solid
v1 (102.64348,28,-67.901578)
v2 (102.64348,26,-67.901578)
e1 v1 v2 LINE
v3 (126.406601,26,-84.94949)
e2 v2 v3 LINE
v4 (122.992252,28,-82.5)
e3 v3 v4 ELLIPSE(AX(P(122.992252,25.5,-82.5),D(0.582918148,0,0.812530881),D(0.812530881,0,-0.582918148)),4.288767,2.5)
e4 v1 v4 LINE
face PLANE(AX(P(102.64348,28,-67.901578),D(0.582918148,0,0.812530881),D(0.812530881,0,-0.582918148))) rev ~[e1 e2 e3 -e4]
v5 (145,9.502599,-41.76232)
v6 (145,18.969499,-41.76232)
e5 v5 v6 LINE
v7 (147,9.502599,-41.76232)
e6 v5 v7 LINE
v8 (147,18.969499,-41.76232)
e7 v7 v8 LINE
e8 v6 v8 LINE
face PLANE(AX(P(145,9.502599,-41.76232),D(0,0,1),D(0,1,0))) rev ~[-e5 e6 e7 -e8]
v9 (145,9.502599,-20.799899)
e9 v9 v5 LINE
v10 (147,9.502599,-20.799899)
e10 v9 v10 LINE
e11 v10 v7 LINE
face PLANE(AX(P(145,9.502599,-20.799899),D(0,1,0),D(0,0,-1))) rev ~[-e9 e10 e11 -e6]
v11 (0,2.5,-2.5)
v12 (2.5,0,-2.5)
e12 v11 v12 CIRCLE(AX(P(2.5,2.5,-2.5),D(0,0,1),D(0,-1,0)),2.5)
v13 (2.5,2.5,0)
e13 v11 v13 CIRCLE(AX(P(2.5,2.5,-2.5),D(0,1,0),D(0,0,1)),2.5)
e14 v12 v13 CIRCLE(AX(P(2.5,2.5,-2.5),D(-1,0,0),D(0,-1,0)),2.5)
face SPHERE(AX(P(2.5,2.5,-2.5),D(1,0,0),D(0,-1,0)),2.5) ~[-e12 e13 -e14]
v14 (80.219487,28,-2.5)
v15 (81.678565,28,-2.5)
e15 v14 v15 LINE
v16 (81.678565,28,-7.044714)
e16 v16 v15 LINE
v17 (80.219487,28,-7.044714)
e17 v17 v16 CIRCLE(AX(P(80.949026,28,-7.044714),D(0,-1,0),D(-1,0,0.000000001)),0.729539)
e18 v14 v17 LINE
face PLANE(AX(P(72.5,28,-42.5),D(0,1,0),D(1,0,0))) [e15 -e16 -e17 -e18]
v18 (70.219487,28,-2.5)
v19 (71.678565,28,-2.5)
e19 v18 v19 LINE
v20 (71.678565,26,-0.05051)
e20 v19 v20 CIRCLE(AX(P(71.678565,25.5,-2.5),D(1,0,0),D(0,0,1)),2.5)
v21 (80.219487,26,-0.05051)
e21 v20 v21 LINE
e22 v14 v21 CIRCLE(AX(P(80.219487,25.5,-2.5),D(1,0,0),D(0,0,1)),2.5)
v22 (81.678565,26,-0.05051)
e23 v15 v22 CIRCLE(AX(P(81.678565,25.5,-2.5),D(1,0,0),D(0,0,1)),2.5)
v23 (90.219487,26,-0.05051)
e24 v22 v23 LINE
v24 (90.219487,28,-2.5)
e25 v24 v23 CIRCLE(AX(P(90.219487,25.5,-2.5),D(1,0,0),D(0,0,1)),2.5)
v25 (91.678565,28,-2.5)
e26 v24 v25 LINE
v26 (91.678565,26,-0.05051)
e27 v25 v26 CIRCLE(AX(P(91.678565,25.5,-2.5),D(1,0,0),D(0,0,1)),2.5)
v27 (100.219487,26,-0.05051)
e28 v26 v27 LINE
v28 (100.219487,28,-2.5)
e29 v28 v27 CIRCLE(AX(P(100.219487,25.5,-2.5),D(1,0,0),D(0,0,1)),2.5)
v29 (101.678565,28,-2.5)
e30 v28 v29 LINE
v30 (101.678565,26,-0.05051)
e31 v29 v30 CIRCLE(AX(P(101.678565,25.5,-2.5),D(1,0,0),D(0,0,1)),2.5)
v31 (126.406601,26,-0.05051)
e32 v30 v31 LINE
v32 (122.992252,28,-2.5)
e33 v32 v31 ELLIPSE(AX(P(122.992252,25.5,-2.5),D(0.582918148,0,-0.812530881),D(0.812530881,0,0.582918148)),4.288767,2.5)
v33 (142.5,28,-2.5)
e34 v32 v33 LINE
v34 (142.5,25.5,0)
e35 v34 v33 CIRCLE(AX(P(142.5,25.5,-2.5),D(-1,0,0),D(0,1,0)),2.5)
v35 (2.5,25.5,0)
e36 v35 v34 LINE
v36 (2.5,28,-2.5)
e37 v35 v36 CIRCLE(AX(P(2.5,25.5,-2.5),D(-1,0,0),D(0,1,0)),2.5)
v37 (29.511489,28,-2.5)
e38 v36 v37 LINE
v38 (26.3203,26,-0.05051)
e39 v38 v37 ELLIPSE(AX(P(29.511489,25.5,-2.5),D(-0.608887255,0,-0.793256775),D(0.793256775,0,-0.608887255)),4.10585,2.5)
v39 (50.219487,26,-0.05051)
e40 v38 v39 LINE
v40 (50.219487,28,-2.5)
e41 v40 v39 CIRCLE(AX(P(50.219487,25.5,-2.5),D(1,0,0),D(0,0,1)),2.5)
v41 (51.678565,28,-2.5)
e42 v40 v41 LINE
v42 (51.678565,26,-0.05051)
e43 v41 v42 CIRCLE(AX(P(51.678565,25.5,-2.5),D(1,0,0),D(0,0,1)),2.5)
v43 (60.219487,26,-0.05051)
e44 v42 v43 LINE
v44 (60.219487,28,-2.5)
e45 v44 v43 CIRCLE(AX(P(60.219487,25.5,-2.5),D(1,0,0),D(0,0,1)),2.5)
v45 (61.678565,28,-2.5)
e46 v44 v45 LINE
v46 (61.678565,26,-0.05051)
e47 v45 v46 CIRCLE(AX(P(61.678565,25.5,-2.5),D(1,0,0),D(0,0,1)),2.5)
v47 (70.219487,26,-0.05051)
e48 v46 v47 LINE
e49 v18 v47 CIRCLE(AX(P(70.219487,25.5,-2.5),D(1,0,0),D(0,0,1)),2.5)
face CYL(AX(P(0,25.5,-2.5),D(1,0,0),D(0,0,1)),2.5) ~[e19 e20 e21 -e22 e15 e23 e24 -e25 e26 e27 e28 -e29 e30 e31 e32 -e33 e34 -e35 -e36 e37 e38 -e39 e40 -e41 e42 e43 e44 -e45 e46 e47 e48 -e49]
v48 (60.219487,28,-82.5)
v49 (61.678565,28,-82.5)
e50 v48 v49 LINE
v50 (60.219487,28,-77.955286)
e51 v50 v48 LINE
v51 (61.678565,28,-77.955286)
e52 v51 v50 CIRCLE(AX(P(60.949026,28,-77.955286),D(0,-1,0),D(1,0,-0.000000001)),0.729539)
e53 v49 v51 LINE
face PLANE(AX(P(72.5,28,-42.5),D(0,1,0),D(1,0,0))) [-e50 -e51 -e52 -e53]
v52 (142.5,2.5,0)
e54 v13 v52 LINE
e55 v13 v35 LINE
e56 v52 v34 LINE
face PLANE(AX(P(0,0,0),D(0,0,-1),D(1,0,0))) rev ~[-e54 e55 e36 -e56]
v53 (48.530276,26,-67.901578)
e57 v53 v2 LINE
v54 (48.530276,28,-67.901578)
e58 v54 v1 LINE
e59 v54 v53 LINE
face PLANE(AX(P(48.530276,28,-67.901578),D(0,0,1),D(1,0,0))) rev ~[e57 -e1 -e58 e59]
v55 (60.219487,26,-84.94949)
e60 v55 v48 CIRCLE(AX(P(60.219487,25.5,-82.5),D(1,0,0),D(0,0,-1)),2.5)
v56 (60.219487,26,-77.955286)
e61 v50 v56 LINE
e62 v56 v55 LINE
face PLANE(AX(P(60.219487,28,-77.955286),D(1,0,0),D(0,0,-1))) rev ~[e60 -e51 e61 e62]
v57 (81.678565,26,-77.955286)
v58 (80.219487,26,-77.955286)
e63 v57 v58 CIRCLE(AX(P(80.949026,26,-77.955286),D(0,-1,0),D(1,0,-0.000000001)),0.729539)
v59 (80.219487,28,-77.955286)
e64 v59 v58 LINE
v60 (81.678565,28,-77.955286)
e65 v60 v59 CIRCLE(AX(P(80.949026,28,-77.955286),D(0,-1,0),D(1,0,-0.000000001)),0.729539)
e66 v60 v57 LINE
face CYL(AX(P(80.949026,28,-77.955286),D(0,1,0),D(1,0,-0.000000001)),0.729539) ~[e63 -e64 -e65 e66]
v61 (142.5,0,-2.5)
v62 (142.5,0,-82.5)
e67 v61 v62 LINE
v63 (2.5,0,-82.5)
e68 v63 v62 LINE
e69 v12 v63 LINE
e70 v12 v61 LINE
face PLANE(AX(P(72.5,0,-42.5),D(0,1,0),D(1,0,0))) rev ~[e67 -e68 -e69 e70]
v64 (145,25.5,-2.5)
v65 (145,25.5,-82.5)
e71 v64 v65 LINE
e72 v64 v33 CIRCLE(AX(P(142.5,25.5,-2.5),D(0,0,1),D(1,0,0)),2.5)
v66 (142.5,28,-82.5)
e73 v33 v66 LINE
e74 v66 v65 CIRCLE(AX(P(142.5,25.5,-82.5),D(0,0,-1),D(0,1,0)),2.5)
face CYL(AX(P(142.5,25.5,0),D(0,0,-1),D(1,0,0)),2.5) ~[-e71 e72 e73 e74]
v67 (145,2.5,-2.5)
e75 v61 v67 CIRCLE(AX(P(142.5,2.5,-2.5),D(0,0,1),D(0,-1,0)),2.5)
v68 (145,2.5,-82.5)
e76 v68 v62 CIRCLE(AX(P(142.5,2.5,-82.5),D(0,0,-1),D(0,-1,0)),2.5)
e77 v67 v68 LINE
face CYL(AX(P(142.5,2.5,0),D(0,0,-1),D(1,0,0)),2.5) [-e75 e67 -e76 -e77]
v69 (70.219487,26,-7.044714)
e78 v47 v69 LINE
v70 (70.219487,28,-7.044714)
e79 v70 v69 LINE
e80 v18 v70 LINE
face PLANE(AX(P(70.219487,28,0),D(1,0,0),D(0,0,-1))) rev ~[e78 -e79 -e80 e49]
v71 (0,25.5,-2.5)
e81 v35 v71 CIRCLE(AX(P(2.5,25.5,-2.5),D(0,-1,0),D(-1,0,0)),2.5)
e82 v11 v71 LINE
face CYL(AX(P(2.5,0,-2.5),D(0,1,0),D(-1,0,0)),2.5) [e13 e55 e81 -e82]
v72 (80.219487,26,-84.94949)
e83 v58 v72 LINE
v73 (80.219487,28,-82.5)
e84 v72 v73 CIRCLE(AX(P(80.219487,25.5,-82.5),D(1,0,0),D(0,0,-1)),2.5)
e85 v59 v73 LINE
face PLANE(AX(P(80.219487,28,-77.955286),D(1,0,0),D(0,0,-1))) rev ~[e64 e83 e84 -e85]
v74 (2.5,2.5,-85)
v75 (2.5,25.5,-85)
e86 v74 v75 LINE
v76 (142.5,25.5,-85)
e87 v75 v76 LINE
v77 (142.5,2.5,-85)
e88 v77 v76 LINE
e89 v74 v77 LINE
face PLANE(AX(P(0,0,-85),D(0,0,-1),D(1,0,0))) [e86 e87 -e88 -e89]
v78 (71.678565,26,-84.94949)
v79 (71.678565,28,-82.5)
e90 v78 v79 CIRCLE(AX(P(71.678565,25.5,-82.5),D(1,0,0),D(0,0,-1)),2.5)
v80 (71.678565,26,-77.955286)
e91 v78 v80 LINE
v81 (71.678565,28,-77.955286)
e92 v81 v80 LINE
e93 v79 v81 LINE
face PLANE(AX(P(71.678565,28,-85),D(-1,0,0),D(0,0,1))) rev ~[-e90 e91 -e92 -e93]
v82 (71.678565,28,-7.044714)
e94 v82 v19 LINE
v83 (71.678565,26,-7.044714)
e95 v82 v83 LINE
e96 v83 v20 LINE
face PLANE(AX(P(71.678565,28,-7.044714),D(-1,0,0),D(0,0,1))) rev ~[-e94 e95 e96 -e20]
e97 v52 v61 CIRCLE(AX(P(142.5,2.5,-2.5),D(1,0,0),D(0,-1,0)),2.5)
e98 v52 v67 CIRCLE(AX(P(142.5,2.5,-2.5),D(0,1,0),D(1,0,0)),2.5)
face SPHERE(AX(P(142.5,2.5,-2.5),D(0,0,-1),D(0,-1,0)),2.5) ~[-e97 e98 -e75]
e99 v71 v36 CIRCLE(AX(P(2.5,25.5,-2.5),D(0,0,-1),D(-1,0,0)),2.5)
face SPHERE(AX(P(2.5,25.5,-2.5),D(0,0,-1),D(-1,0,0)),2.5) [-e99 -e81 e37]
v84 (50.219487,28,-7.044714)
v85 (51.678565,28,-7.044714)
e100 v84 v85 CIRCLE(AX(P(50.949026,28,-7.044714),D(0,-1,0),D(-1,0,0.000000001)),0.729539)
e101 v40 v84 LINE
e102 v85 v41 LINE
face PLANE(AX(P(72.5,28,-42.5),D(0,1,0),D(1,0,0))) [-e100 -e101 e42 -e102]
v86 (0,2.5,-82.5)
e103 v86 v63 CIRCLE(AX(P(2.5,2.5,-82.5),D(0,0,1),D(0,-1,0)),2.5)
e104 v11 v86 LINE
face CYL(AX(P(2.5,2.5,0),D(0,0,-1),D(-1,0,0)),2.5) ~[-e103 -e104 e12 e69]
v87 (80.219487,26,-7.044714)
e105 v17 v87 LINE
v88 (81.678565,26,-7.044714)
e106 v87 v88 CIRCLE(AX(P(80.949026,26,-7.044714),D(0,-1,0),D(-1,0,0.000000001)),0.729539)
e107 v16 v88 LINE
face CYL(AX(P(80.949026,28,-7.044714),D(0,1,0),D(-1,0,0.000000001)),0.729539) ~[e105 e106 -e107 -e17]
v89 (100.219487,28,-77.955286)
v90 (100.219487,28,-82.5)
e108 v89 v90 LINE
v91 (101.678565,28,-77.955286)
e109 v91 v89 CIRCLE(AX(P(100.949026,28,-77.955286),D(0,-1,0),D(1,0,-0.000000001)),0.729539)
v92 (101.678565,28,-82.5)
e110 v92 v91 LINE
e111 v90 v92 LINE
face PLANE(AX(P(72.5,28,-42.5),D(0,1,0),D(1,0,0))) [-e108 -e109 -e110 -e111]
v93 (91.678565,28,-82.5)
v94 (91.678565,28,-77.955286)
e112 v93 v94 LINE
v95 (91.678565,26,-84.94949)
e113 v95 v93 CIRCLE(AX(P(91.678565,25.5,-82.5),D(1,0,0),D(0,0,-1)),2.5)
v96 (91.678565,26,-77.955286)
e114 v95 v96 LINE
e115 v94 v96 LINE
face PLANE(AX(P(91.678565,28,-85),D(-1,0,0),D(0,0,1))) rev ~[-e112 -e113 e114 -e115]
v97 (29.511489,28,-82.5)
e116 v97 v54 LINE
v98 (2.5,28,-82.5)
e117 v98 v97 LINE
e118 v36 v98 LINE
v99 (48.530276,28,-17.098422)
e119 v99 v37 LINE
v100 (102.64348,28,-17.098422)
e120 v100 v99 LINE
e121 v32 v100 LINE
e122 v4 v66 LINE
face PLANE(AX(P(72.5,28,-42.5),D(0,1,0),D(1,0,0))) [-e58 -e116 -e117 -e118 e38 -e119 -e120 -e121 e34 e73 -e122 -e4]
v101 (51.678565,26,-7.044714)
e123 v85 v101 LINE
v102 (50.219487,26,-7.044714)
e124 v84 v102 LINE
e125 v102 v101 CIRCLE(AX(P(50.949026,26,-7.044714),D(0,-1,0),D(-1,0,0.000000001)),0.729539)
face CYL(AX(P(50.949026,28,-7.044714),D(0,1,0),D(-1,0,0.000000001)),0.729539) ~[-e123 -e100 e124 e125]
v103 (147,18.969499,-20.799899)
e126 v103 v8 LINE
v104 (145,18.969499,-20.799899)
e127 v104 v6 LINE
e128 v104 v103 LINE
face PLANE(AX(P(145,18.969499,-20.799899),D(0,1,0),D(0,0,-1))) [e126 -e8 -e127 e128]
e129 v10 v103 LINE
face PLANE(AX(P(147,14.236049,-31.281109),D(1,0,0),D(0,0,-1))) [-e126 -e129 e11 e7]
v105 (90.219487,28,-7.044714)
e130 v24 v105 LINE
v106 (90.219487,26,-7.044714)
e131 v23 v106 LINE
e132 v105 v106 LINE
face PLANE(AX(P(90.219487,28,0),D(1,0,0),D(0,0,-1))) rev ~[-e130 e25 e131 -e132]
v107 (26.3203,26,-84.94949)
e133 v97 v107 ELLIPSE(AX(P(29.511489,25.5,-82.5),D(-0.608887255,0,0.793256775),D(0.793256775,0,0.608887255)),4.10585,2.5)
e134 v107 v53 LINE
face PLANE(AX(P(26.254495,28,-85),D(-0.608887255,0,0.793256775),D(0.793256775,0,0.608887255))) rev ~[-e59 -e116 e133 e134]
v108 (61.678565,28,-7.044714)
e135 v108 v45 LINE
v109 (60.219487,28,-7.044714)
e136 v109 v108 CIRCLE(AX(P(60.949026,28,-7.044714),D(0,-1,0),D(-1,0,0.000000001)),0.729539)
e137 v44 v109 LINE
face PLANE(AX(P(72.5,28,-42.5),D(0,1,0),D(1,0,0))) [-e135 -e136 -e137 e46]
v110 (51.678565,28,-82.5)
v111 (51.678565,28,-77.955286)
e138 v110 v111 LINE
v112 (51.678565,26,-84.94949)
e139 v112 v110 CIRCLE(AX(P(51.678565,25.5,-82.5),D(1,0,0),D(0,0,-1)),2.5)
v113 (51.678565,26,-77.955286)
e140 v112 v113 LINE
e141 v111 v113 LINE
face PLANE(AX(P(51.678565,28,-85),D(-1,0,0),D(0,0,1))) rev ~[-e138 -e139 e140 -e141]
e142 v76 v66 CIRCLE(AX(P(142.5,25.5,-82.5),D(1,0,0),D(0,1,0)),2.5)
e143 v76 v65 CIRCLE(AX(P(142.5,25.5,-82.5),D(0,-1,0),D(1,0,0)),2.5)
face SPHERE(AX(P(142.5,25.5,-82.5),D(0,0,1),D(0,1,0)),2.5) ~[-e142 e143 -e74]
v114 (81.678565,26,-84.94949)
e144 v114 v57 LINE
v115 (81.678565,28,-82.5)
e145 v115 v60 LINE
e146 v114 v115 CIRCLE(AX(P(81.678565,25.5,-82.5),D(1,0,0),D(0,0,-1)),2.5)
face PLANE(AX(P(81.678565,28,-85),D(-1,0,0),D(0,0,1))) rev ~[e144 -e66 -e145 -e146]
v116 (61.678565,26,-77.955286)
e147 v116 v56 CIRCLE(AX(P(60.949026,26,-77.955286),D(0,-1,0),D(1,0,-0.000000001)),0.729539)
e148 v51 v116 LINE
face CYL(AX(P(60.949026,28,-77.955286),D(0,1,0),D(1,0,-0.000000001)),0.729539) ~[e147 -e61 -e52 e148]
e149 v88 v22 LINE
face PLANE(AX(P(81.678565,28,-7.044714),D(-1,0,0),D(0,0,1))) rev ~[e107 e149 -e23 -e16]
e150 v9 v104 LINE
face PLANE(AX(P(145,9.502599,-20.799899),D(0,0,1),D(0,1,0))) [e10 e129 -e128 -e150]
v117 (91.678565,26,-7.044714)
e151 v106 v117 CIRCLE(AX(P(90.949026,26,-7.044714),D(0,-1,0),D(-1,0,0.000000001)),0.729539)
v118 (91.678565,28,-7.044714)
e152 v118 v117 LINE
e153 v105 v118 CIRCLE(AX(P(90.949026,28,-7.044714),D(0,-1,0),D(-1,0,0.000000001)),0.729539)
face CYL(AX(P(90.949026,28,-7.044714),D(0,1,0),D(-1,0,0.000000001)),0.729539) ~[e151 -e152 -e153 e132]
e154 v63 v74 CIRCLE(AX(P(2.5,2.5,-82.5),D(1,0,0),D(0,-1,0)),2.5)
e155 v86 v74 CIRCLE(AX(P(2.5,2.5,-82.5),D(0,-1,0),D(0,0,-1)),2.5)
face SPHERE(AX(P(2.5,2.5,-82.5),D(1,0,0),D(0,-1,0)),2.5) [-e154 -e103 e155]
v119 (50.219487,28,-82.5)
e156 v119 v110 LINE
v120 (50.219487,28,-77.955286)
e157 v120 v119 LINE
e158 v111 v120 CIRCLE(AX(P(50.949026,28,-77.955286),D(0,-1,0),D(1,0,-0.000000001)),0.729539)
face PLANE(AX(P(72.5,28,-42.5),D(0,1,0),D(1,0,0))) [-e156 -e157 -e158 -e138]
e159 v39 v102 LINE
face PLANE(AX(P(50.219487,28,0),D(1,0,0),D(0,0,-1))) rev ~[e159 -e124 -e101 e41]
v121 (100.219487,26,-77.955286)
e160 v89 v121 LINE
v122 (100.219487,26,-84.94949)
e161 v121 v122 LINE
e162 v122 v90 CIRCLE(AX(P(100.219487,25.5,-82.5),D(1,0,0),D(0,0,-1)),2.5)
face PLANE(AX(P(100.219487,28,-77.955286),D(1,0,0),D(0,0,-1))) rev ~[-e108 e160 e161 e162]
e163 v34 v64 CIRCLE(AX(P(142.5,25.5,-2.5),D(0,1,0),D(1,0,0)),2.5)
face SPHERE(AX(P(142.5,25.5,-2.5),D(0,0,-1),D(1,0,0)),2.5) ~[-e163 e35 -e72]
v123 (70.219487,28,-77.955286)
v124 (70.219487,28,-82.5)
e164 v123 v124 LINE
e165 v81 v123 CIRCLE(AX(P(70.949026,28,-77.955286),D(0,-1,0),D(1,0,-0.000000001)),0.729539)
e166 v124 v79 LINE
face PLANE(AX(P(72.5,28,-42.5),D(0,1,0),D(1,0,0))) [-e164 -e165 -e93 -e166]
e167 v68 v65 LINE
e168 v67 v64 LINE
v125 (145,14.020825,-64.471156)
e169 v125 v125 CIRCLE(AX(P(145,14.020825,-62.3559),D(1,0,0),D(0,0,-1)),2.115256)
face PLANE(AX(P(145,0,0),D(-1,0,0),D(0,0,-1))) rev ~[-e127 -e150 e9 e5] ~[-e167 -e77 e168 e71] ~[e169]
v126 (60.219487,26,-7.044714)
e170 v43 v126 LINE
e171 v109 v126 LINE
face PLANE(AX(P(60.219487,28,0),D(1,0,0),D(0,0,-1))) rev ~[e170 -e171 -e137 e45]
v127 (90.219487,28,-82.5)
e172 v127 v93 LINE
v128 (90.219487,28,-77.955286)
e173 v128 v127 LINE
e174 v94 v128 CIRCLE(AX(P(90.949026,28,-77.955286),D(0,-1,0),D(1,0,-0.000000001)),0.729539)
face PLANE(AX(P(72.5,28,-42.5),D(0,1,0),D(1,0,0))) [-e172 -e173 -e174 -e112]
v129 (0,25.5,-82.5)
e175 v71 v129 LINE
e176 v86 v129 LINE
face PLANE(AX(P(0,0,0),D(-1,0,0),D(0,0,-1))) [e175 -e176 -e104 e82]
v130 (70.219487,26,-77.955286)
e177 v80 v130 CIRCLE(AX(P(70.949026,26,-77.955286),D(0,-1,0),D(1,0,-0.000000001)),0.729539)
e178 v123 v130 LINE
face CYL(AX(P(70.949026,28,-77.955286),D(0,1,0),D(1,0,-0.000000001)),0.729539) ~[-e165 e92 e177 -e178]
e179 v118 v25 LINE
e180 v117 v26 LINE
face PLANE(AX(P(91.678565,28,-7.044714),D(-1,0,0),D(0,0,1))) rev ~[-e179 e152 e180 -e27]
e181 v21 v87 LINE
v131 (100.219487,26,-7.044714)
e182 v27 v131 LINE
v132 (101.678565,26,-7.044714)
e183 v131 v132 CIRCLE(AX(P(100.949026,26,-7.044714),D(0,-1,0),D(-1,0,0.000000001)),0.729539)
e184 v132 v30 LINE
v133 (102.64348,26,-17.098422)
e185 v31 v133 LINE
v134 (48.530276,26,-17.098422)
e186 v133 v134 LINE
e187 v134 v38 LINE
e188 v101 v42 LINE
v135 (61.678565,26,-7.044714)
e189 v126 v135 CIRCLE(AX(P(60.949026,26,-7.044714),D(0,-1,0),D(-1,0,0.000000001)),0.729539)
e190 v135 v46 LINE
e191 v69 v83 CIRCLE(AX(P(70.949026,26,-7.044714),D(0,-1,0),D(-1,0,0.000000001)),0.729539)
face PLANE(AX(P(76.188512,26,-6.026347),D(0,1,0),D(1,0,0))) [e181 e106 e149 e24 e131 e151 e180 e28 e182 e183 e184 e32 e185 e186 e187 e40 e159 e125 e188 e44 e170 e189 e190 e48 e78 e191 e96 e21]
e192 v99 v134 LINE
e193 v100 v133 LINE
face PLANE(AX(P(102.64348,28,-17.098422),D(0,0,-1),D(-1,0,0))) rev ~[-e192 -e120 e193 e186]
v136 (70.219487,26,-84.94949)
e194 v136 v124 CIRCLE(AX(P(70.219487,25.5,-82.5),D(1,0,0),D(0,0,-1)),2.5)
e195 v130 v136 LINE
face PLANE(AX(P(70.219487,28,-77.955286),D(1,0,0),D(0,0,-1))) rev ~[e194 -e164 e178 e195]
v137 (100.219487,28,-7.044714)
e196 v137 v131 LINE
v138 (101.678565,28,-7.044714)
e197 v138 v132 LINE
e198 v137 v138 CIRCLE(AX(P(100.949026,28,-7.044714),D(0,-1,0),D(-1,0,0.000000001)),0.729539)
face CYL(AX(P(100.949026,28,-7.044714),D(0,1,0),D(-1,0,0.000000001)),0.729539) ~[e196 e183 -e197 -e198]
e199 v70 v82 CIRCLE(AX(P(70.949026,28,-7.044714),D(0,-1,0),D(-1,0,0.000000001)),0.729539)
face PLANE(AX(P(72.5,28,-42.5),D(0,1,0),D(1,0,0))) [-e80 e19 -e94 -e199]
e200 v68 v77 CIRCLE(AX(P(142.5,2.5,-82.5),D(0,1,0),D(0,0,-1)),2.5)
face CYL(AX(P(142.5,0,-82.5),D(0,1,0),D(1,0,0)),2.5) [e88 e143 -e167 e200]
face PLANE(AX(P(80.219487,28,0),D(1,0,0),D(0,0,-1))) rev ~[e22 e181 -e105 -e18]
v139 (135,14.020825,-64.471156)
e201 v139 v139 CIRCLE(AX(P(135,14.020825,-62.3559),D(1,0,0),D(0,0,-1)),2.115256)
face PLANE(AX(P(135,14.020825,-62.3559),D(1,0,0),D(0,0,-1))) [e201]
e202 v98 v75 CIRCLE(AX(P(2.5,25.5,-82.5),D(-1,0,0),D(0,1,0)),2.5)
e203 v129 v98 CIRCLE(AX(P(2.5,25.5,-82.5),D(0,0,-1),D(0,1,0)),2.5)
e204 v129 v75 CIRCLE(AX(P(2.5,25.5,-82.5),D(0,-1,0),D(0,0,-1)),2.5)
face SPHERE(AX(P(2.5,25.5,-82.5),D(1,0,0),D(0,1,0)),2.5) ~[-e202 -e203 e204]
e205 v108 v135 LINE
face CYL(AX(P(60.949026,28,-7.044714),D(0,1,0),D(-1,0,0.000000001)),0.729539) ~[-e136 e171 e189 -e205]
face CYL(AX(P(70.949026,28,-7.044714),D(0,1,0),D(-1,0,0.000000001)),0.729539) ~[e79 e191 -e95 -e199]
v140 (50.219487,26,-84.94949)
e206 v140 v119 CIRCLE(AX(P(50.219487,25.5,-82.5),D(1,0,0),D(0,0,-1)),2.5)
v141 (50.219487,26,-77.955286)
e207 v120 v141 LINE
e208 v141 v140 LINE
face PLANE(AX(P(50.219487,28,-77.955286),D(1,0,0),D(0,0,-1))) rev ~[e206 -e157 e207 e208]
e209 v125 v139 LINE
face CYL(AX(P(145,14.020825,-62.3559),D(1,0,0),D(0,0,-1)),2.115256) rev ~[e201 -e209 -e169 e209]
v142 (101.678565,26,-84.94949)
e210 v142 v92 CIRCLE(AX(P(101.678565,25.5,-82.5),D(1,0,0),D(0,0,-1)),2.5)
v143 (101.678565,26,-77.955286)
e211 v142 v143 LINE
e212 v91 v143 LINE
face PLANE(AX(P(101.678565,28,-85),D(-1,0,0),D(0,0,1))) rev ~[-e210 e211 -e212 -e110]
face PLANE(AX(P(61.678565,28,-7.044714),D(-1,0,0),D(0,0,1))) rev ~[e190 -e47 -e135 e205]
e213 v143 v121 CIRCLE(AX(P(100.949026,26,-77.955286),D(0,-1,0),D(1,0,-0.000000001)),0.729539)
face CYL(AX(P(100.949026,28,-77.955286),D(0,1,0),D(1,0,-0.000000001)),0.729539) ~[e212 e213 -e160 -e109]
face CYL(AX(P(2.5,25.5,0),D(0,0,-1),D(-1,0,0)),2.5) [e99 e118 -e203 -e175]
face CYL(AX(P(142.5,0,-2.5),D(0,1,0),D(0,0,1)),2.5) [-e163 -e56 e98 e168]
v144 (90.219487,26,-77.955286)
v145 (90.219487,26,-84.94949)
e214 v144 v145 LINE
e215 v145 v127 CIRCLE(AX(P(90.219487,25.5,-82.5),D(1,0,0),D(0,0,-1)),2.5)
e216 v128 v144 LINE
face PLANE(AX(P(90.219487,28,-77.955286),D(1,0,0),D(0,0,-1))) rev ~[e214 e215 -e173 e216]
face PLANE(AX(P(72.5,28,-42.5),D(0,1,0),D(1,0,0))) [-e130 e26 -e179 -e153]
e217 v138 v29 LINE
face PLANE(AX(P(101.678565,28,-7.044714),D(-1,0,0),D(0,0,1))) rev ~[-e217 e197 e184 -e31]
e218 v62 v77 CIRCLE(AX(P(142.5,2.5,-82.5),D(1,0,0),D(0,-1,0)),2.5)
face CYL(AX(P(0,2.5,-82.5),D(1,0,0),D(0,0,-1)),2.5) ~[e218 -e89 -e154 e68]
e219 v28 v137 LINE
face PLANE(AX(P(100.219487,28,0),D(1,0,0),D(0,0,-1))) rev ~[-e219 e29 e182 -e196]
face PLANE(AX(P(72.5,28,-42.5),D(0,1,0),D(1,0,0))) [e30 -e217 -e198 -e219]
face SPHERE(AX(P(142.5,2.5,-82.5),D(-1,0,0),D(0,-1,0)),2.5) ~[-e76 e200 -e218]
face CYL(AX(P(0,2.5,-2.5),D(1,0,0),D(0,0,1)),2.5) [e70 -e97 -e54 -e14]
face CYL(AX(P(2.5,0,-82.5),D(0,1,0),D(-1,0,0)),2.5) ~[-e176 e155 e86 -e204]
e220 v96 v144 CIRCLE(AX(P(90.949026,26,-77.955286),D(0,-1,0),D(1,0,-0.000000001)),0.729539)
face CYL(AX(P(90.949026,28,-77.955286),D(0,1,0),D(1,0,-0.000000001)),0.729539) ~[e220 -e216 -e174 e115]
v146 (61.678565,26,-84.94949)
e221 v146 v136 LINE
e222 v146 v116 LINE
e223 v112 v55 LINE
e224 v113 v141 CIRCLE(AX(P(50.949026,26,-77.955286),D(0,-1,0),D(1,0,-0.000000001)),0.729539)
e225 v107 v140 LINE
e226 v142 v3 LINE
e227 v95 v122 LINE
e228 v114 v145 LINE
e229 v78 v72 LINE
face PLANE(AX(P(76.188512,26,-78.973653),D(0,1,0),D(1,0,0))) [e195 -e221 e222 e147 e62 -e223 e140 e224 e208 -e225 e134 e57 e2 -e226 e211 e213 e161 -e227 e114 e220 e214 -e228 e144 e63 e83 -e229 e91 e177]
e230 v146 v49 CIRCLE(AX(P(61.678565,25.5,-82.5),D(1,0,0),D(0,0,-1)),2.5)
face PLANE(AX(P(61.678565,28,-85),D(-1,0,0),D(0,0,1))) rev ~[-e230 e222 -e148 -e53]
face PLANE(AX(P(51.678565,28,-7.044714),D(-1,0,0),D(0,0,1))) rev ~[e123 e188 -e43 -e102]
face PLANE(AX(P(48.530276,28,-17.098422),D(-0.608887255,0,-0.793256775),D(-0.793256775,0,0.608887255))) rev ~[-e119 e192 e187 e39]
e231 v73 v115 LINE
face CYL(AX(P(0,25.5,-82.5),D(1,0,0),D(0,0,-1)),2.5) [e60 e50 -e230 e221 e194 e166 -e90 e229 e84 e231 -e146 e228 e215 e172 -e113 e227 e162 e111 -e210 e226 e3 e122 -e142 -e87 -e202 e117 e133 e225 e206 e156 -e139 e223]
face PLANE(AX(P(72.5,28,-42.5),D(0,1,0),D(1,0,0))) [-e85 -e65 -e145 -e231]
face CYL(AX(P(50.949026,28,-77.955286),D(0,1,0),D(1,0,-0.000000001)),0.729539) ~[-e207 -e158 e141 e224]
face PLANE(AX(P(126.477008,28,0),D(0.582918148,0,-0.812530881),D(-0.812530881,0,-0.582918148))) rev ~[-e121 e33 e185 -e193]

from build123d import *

# Parameters (mm, degrees)
SKETCH2_W           = 145
SKETCH2_H           = 85
BOSS_EXTRUDE1_DEPTH = 28
FILLET1_R           = 2.5
SKETCH3_R           = 2.115255866
CUT_EXTRUDE1_DEPTH  = 10
SKETCH4_W           = 20.962420857
SKETCH4_H           = 9.466899742
BOSS_EXTRUDE2_DEPTH = 2
CUT_EXTRUDE2_DEPTH  = 2


with BuildPart() as part:
    # Sketch2 → Boss-Extrude1 (new body)
    with BuildSketch(Plane(origin=(0, 0, 0), x_dir=(1, 0, 0), z_dir=(0, 1, 0))):
        with Locations((72.5, 42.5)):
            Rectangle(SKETCH2_W, SKETCH2_H)
    extrude(amount=BOSS_EXTRUDE1_DEPTH)

    # Fillet1
    fillet1_edges = [part.edges().sort_by_distance(p)[0] for p in [
        (145, 28, -42.5),
        (72.5, 28, -85),
        (0, 28, -42.5),
        (72.5, 0, -85),
        (145, 0, -42.5),
        (72.5, 0, 0),
        (0, 0, -42.5),
        (0, 14, -85),
        (145, 14, -85),
        (145, 14, 0),
        (0, 14, 0),
        (72.5, 28, 0),
    ]]
    fillet(fillet1_edges, radius=FILLET1_R)

    # Sketch3 → Cut-Extrude1 (cut)
    with BuildSketch(Plane(origin=(145, 0, 0), x_dir=(0, 0, -1), z_dir=(1, 0, 0))):
        with Locations((62.355900108, 14.02082484)):
            Circle(SKETCH3_R)
    extrude(amount=-CUT_EXTRUDE1_DEPTH, mode=Mode.SUBTRACT)

    # Sketch4 → Boss-Extrude2 (add)
    with BuildSketch(Plane(origin=(145, 0, 0), x_dir=(0, 0, -1), z_dir=(1, 0, 0))):
        with Locations((31.281109073, 14.236048875)):
            Rectangle(SKETCH4_W, SKETCH4_H)
    extrude(amount=BOSS_EXTRUDE2_DEPTH)

    # Sketch5 → Cut-Extrude2 (cut)
    with BuildSketch(Plane(origin=(0, 28, 0), x_dir=(1, 0, 0), z_dir=(0, 1, 0))):
        with BuildLine():
            Line((26.254495466, 85), (48.530276138, 67.90157817))
            Line((48.530276138, 67.90157817), (102.643480063, 67.90157817))
            Line((102.643480063, 67.90157817), (126.477007635, 85))
            Line((126.477007635, 85), (101.67856471, 85))
            Line((101.67856471, 85), (101.67856471, 77.955286257))
            ThreePointArc((101.67856471, 77.955286257), (100.949025715, 77.225747261), (100.21948672, 77.955286257))
            Line((100.21948672, 77.955286257), (100.21948672, 85))
            Line((100.21948672, 85), (91.67856471, 85))
            Line((91.67856471, 85), (91.67856471, 77.955286257))
            ThreePointArc((91.67856471, 77.955286257), (90.949025715, 77.225747261), (90.21948672, 77.955286257))
            Line((90.21948672, 77.955286257), (90.21948672, 85))
            Line((90.21948672, 85), (81.67856471, 85))
            Line((81.67856471, 85), (81.67856471, 77.955286257))
            ThreePointArc((81.67856471, 77.955286257), (80.949025715, 77.225747261), (80.21948672, 77.955286257))
            Line((80.21948672, 77.955286257), (80.21948672, 85))
            Line((80.21948672, 85), (71.67856471, 85))
            Line((71.67856471, 85), (71.67856471, 77.955286257))
            ThreePointArc((71.67856471, 77.955286257), (70.949025715, 77.225747261), (70.21948672, 77.955286257))
            Line((70.21948672, 77.955286257), (70.21948672, 85))
            Line((70.21948672, 85), (61.67856471, 85))
            Line((61.67856471, 85), (61.67856471, 77.955286257))
            ThreePointArc((61.67856471, 77.955286257), (60.949025715, 77.225747261), (60.21948672, 77.955286257))
            Line((60.21948672, 77.955286257), (60.21948672, 85))
            Line((60.21948672, 85), (51.67856471, 85))
            Line((51.67856471, 85), (51.67856471, 77.955286257))
            ThreePointArc((51.67856471, 77.955286257), (50.949025715, 77.225747261), (50.21948672, 77.955286257))
            Line((50.21948672, 77.955286257), (50.21948672, 85))
            Line((50.21948672, 85), (26.254495466, 85))
        make_face()
        with BuildLine():
            Line((101.67856471, 0), (126.477007635, 0))
            Line((126.477007635, 0), (102.643480063, 17.09842183))
            Line((102.643480063, 17.09842183), (48.530276138, 17.09842183))
            Line((48.530276138, 17.09842183), (26.254495466, 0))
            Line((26.254495466, 0), (50.21948672, 0))
            Line((50.21948672, 0), (50.21948672, 7.044713743))
            ThreePointArc((50.21948672, 7.044713743), (50.949025715, 7.774252739), (51.67856471, 7.044713743))
            Line((51.67856471, 7.044713743), (51.67856471, 0))
            Line((51.67856471, 0), (60.21948672, 0))
            Line((60.21948672, 0), (60.21948672, 7.044713743))
            ThreePointArc((60.21948672, 7.044713743), (60.949025715, 7.774252739), (61.67856471, 7.044713743))
            Line((61.67856471, 7.044713743), (61.67856471, 0))
            Line((61.67856471, 0), (70.21948672, 0))
            Line((70.21948672, 0), (70.21948672, 7.044713743))
            ThreePointArc((70.21948672, 7.044713743), (70.949025715, 7.774252739), (71.67856471, 7.044713743))
            Line((71.67856471, 7.044713743), (71.67856471, 0))
            Line((71.67856471, 0), (80.21948672, 0))
            Line((80.21948672, 0), (80.21948672, 7.044713743))
            ThreePointArc((80.21948672, 7.044713743), (80.949025715, 7.774252739), (81.67856471, 7.044713743))
            Line((81.67856471, 7.044713743), (81.67856471, 0))
            Line((81.67856471, 0), (90.21948672, 0))
            Line((90.21948672, 0), (90.21948672, 7.044713743))
            ThreePointArc((90.21948672, 7.044713743), (90.949025715, 7.774252739), (91.67856471, 7.044713743))
            Line((91.67856471, 7.044713743), (91.67856471, 0))
            Line((91.67856471, 0), (100.21948672, 0))
            Line((100.21948672, 0), (100.21948672, 7.044713743))
            ThreePointArc((100.21948672, 7.044713743), (100.949025715, 7.774252739), (101.67856471, 7.044713743))
            Line((101.67856471, 7.044713743), (101.67856471, 0))
        make_face()
    extrude(amount=-CUT_EXTRUDE2_DEPTH, mode=Mode.SUBTRACT)


solid = part.part
